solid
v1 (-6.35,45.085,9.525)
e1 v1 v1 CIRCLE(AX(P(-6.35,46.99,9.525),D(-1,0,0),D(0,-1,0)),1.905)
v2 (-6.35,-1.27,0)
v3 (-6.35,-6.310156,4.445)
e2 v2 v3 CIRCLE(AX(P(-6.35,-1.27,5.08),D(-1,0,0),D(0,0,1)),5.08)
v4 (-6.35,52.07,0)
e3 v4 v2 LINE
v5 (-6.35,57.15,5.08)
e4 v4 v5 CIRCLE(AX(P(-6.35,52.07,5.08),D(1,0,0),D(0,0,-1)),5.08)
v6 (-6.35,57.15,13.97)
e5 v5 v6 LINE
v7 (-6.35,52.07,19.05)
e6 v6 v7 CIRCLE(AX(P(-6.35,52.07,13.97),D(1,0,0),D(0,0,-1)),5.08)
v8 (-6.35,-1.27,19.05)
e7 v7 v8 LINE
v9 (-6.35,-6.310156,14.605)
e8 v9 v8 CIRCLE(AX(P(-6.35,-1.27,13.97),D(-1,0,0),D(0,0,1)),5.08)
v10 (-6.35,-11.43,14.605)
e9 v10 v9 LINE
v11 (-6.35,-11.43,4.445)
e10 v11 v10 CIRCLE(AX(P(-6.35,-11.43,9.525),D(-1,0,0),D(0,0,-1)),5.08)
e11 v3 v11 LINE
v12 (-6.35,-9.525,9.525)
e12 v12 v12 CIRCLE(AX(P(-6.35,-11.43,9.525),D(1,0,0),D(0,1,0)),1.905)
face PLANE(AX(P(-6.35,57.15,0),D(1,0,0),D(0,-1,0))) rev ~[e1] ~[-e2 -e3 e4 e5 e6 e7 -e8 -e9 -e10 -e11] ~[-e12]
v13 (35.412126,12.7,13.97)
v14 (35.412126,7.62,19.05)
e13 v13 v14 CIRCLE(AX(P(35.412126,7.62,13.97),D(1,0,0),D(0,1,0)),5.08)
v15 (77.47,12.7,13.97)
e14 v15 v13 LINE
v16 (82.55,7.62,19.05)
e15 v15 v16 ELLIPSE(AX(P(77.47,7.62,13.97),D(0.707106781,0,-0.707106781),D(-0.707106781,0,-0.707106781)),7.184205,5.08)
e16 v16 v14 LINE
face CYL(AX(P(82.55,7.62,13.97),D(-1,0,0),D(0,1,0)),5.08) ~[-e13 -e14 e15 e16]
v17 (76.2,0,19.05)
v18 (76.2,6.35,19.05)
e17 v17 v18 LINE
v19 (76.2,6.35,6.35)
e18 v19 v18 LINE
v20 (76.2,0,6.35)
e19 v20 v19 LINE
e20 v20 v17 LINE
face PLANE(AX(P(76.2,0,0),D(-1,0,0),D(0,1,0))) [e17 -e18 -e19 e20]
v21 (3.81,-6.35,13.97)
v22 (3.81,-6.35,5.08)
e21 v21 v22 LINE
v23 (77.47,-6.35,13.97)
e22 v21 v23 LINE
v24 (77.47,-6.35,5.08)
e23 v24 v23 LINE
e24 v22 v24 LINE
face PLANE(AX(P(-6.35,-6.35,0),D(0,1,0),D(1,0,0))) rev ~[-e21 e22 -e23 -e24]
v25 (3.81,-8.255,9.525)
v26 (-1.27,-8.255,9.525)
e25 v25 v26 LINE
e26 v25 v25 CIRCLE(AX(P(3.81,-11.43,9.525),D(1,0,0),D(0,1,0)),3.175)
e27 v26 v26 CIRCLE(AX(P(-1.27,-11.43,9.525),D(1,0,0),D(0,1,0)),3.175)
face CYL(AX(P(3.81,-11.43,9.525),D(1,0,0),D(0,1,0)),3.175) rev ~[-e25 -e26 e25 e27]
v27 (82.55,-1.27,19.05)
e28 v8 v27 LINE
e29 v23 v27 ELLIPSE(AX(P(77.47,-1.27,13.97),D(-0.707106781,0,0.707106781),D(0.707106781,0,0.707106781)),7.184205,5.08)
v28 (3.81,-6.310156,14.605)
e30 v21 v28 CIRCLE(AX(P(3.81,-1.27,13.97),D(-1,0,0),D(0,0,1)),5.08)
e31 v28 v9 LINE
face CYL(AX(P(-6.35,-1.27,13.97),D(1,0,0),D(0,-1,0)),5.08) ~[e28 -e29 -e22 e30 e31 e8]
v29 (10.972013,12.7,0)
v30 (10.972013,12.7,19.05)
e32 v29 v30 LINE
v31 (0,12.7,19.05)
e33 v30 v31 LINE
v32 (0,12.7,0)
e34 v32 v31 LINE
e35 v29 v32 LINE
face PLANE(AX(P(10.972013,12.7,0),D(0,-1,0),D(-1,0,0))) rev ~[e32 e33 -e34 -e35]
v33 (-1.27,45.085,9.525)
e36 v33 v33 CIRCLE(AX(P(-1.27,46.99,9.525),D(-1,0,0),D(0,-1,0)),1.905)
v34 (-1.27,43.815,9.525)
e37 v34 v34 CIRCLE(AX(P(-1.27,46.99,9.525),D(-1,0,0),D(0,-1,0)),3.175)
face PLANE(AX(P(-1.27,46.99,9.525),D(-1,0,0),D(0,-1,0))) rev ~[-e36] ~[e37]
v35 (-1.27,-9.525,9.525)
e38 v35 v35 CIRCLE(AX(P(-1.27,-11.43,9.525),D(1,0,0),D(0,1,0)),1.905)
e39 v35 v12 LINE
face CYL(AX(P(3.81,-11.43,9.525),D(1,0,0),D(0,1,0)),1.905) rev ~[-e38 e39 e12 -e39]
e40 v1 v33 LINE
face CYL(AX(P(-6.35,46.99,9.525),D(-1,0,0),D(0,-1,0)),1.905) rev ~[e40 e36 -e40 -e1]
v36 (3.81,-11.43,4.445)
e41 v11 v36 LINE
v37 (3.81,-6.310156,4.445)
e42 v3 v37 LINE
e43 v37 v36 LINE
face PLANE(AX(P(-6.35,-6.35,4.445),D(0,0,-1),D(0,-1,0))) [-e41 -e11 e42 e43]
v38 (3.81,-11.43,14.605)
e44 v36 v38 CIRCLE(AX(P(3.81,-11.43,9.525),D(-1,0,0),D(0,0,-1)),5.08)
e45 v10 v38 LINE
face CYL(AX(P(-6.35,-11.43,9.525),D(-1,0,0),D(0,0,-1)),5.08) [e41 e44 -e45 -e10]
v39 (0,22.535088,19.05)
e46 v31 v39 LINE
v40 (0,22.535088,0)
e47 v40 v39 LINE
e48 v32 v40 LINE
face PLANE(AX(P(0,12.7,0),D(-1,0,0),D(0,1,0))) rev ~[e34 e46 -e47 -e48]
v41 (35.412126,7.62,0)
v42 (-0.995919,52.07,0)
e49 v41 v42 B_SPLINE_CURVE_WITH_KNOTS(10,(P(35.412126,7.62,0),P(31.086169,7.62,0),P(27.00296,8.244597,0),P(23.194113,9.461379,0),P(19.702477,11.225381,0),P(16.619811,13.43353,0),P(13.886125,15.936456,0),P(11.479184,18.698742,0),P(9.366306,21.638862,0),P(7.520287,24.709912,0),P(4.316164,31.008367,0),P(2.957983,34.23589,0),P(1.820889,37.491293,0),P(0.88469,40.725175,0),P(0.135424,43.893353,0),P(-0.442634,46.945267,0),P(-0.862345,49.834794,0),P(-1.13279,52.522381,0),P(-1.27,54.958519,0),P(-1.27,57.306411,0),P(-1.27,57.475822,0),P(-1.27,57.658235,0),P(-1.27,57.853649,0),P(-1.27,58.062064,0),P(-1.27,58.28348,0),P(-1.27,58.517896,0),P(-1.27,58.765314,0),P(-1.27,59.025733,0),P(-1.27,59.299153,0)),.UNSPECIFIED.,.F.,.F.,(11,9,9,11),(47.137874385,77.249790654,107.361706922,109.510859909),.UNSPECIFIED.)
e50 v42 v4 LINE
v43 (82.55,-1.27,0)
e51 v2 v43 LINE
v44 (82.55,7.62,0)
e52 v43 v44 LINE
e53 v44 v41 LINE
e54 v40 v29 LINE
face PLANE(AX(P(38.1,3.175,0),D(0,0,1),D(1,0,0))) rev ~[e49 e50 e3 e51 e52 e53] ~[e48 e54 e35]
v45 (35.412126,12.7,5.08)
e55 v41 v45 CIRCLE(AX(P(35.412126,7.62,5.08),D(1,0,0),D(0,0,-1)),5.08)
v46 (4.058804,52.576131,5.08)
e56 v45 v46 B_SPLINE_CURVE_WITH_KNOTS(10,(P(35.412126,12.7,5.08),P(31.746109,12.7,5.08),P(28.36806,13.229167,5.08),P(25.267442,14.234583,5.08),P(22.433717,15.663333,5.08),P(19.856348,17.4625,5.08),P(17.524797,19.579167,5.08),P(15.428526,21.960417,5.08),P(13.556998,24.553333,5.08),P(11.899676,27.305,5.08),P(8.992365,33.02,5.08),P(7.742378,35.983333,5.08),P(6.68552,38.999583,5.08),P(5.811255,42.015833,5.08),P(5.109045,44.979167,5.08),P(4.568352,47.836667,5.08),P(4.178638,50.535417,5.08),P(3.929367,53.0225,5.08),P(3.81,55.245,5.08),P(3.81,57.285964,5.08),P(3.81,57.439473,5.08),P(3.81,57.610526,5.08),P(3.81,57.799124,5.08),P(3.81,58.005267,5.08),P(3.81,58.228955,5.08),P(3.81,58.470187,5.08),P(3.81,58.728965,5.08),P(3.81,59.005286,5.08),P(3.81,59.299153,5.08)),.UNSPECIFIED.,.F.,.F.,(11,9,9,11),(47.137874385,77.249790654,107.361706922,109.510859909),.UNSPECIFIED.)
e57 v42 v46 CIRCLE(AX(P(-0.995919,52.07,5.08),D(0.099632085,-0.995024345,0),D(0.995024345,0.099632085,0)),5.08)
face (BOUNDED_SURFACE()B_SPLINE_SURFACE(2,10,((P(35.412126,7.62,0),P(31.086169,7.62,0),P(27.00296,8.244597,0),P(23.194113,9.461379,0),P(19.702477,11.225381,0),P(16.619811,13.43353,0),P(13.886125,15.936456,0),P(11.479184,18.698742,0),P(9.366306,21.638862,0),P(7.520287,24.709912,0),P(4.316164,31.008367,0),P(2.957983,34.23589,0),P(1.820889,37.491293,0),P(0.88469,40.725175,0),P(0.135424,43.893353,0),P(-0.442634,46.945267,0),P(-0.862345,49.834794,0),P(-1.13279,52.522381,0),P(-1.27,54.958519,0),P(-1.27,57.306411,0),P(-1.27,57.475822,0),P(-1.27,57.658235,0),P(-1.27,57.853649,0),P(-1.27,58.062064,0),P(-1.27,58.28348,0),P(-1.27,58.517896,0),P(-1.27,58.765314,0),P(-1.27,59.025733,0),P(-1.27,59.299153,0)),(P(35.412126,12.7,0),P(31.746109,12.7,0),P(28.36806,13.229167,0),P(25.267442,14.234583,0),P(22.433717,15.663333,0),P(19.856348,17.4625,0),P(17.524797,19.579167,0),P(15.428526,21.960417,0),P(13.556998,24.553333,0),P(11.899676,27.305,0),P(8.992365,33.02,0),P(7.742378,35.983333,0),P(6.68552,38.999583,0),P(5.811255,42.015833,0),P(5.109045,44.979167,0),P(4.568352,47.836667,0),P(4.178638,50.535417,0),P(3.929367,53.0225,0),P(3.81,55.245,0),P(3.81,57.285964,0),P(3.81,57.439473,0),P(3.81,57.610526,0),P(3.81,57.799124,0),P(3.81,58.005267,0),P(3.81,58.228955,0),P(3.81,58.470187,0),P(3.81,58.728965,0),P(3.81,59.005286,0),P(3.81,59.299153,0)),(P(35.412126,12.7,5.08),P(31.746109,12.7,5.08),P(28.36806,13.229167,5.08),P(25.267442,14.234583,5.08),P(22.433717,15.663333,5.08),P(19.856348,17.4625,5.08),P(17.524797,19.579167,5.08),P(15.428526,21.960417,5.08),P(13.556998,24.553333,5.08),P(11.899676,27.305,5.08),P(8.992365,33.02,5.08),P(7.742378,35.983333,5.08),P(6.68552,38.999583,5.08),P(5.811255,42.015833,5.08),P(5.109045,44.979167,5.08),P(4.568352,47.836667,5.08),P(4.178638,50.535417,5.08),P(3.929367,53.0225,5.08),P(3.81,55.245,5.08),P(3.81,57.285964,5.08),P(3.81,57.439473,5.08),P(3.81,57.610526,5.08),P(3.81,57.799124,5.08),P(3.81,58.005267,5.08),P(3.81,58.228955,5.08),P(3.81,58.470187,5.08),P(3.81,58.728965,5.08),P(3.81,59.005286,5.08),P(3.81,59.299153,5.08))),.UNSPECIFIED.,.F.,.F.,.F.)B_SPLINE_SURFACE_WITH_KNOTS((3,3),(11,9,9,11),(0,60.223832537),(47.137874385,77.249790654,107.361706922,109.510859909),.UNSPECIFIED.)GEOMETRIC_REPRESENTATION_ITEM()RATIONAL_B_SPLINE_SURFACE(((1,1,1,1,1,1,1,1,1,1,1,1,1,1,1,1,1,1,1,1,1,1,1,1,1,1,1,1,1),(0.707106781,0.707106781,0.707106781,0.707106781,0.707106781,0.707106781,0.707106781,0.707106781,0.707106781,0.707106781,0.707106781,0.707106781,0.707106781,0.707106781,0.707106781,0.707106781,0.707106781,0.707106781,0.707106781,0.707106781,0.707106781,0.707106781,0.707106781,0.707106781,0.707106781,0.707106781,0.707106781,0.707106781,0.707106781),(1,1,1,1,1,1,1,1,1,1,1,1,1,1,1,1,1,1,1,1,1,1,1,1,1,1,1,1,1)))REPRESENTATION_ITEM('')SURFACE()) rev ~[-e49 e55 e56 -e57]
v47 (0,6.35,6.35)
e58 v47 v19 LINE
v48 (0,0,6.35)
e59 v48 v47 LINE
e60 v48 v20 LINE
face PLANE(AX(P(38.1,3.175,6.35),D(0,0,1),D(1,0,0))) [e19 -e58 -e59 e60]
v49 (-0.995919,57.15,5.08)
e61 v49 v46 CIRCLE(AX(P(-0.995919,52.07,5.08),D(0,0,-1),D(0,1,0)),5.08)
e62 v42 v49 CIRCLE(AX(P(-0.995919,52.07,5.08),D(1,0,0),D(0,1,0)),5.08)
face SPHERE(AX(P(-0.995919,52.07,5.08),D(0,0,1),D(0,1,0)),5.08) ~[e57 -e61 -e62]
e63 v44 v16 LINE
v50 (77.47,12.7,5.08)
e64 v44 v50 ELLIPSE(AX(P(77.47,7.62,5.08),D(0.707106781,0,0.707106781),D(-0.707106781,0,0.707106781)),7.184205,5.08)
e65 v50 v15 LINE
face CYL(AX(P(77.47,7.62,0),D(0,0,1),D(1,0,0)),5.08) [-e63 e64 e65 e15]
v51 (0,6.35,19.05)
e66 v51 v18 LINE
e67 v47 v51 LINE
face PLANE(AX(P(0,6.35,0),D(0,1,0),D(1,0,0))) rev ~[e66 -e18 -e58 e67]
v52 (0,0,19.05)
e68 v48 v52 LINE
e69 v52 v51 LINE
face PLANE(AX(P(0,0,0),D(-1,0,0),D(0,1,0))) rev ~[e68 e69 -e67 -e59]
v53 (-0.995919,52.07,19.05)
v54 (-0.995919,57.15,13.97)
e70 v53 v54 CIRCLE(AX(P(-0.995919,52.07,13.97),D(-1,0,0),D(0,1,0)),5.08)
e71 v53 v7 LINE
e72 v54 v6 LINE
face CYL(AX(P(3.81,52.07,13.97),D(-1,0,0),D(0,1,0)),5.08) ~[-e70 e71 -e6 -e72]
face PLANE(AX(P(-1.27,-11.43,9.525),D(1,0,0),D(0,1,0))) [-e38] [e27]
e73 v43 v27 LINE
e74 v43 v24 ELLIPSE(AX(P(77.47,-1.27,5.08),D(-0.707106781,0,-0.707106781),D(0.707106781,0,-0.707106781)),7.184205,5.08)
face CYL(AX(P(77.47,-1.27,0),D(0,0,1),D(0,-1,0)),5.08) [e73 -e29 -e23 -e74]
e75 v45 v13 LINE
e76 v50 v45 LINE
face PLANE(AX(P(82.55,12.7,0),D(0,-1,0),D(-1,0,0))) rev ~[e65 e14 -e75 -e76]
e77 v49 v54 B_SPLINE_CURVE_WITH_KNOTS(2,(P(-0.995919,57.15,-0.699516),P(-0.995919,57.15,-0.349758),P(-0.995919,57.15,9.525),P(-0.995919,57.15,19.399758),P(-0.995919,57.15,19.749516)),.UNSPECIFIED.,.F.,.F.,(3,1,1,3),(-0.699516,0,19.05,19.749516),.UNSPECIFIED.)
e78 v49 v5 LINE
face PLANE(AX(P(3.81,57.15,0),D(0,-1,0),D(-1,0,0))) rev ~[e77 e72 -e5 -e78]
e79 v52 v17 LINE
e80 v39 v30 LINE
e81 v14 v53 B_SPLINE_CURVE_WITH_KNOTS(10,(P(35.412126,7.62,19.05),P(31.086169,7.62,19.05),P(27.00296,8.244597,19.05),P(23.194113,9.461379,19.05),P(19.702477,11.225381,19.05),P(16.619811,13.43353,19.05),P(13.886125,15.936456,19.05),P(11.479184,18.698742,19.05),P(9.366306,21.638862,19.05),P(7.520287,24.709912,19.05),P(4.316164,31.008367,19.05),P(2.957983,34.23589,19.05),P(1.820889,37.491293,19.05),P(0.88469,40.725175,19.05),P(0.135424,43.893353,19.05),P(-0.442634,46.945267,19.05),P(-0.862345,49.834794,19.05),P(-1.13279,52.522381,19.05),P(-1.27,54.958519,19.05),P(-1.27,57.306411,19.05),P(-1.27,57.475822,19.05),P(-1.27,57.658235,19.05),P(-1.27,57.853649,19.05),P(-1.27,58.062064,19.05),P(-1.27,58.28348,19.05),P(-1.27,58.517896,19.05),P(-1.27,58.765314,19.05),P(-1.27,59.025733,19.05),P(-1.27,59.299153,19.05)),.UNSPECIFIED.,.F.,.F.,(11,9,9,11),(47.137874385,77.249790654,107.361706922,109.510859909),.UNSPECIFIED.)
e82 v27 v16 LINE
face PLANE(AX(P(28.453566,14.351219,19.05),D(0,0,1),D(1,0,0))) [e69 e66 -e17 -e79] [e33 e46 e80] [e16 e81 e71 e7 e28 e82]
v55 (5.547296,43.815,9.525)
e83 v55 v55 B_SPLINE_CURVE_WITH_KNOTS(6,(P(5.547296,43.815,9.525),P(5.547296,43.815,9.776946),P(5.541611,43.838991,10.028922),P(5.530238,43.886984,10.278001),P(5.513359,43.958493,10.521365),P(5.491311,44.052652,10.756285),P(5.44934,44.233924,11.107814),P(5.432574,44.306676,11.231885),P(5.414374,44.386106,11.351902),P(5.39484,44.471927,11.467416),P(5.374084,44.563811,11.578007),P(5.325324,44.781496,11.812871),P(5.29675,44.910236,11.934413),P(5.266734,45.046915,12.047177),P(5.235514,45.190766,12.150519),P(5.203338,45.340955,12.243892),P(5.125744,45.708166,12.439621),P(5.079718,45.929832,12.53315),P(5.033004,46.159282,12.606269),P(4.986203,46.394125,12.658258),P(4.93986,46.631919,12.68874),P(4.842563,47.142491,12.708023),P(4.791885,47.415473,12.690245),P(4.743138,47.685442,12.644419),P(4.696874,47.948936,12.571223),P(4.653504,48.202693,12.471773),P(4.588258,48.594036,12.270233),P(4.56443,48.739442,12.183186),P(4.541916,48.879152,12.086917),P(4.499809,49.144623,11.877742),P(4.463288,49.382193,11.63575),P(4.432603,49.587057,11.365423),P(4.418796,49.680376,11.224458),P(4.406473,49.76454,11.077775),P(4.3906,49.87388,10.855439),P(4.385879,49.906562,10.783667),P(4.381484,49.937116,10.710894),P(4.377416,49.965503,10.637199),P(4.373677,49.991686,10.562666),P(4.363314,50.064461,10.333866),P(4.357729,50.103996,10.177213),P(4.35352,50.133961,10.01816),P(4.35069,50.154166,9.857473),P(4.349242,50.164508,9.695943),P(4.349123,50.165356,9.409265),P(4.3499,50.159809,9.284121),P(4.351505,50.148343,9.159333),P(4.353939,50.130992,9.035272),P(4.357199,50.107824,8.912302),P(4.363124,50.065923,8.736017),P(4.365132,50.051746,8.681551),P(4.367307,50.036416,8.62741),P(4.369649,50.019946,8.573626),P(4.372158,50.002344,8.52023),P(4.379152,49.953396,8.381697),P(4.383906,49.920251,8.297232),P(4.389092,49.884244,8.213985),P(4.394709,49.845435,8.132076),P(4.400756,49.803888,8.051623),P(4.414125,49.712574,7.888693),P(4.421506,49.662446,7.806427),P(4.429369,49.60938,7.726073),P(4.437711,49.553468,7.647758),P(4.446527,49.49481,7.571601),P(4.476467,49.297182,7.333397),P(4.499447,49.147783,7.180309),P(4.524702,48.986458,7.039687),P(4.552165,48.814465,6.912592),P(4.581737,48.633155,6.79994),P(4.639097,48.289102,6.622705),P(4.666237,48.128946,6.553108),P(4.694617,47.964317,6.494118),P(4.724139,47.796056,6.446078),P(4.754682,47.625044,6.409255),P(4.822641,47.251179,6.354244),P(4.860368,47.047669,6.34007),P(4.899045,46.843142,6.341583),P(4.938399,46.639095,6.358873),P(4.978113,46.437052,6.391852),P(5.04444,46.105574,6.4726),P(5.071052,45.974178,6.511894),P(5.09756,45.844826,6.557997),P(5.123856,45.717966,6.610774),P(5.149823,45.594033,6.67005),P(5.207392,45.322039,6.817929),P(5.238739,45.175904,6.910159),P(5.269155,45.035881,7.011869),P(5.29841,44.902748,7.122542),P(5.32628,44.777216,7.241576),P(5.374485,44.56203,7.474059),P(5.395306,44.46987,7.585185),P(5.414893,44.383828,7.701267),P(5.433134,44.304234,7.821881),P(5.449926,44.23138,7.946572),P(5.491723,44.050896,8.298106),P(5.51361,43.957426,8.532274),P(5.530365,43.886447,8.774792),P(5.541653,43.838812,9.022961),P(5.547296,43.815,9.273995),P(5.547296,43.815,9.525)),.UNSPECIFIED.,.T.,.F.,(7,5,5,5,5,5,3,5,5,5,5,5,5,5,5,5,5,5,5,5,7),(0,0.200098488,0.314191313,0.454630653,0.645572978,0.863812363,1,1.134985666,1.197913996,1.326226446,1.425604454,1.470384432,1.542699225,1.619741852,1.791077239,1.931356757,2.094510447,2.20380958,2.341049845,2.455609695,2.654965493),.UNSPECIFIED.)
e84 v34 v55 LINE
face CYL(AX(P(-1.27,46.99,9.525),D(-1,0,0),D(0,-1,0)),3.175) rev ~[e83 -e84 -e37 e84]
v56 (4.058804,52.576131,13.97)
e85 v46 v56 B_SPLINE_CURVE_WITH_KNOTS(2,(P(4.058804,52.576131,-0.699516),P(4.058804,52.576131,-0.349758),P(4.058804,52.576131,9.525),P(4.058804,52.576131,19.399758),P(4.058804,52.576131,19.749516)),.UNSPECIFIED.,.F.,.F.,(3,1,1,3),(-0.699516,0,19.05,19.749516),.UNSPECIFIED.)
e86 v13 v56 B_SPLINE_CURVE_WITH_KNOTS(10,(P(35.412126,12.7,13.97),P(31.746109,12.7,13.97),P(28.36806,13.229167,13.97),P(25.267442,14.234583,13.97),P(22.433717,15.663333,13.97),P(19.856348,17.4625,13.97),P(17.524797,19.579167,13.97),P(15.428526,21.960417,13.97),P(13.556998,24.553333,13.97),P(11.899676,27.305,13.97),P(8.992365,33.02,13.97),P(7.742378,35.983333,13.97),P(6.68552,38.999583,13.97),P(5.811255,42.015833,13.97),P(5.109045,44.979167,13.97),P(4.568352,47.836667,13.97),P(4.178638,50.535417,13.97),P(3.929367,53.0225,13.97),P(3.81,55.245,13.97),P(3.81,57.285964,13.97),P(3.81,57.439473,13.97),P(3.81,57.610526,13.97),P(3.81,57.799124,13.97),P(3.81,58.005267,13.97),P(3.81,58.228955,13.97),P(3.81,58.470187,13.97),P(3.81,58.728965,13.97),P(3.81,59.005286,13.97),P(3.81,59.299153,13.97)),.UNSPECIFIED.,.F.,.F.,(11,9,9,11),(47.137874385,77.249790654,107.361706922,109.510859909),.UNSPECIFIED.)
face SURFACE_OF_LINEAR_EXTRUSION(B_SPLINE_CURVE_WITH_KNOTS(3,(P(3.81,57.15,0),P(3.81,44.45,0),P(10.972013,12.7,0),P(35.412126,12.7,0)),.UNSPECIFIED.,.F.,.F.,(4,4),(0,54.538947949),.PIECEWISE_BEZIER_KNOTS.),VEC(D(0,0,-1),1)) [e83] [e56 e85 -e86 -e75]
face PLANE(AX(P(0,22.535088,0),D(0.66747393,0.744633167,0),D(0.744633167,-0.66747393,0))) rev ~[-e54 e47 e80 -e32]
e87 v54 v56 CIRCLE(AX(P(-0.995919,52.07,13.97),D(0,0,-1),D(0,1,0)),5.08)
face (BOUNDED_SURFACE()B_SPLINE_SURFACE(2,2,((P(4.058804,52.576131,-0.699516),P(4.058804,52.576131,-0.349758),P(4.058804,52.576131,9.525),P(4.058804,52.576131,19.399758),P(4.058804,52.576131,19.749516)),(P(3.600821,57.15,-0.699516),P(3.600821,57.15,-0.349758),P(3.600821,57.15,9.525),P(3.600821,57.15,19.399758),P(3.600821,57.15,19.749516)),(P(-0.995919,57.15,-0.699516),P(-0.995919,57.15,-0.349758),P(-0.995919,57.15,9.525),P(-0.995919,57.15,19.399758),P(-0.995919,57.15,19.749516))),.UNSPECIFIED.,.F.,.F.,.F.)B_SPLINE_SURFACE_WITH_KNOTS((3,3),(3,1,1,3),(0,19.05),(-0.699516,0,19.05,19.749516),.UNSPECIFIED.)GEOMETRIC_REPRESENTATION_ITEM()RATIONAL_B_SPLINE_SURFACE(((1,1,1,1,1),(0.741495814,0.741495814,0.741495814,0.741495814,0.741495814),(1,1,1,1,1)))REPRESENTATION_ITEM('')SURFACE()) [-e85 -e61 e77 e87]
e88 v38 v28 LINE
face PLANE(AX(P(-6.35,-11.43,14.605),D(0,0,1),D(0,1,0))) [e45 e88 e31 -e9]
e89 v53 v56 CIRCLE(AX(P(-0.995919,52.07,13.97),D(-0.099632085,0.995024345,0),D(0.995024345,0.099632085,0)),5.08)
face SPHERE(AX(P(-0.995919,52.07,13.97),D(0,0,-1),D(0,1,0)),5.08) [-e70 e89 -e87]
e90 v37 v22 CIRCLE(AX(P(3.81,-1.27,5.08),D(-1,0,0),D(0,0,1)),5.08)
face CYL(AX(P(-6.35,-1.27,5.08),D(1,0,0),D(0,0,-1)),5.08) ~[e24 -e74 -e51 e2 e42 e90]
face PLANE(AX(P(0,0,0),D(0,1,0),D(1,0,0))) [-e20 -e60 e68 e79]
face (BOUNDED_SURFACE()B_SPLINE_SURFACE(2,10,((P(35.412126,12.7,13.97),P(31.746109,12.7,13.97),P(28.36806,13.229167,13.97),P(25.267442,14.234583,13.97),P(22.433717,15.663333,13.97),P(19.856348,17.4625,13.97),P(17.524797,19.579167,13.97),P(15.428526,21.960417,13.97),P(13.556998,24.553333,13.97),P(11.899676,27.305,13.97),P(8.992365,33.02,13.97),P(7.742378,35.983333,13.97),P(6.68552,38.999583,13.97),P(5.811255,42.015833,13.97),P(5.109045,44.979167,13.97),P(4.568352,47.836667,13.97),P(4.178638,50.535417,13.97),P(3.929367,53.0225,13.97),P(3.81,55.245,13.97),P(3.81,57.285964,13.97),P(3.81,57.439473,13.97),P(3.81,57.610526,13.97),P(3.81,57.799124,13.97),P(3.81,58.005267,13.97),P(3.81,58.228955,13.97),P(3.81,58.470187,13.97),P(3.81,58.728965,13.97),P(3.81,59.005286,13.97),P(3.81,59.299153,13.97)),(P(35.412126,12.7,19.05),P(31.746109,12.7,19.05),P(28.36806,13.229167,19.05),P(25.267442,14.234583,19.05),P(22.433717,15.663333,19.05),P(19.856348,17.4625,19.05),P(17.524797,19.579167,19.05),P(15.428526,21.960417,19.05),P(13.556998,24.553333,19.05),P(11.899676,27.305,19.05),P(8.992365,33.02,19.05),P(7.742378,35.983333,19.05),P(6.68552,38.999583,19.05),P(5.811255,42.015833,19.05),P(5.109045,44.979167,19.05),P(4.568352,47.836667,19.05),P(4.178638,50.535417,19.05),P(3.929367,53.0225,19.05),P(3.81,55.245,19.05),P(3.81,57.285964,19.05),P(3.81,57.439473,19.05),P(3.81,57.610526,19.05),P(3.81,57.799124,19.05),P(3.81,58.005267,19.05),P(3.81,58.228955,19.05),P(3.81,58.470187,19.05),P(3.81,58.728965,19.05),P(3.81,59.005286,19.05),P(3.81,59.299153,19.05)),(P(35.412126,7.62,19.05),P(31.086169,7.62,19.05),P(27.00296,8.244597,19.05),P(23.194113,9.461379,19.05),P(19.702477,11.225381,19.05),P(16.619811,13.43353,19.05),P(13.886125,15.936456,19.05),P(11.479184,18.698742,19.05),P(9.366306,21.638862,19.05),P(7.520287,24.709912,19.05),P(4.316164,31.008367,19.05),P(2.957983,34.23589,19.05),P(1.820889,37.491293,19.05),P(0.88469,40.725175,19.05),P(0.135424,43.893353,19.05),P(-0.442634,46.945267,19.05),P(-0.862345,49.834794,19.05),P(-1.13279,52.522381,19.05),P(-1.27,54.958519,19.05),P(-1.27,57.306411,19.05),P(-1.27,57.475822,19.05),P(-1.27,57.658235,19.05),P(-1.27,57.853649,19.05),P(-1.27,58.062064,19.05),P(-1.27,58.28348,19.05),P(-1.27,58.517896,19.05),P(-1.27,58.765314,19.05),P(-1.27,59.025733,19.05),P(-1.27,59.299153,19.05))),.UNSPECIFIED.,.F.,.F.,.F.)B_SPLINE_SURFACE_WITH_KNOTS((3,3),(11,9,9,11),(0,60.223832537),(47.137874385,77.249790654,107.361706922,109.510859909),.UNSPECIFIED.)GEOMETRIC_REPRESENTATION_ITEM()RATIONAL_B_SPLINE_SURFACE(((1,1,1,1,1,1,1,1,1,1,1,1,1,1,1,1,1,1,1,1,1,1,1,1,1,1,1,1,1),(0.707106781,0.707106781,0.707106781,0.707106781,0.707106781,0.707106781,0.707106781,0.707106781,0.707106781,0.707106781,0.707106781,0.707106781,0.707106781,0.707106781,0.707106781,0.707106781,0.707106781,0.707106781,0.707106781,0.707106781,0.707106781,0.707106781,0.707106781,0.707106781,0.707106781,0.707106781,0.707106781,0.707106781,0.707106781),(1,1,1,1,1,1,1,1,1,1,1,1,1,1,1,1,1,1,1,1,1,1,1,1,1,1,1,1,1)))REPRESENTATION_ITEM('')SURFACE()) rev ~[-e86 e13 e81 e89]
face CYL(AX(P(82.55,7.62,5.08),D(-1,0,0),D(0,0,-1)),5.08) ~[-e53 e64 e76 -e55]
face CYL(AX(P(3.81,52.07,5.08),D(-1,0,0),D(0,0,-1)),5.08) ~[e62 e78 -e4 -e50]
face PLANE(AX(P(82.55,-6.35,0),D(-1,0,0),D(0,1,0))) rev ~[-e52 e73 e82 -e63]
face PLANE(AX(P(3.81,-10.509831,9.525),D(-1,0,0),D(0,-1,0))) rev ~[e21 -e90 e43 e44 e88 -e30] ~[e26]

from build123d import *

# Parameters (mm, degrees)
F0_W      = 76.2
F0_H      = 6.35
F1_DEPTH  = 19.05
F2_DEPTH  = 6.35
F4_START  = -5.08
F3_R      = 3.175
F3_R_2    = 1.905
F4_DEPTH  = 6.8182960521
F6_DEPTH  = 10.16
F7_R      = 3.175
F7_R_2    = 1.905
F8_DEPTH  = 5.08
F9_DEPTH  = 10.1610001
F10_DEPTH = 88.9010001
F11_R     = 5.08


with BuildPart() as f1:
    # F0 (on Top) → F1 (new body)
    with BuildSketch(Plane.XY):
        with BuildLine():
            Line((-6.35, -6.35), (82.55, -6.35))
            Line((82.55, -6.35), (82.55, 12.7))
            Line((82.55, 12.7), (35.4121256149, 12.7))
            add(Edge.make_bspline(
                [(3.81, 57.15), (3.81, 44.45), (10.9720126255, 12.7), (35.4121256149, 12.7)],
                knots=[0, 0, 0, 0, 54.538947949, 54.538947949, 54.538947949, 54.538947949], degree=3))
            Line((3.81, 57.15), (-6.35, 57.15))
            Line((-6.35, 57.15), (-6.35, 12.7))
            Line((-6.35, 12.7), (-6.35, -6.35))
        make_face()
        Polygon((0, 12.7), (0, 22.5350875407), (10.9720126255, 12.7), align=None, mode=Mode.SUBTRACT)
        with Locations((38.1, 3.175)):
            Rectangle(F0_W, F0_H, mode=Mode.SUBTRACT)
    extrude(amount=F1_DEPTH)

    # F0 (on Top) → F2 (join)
    with BuildSketch(Plane.XY):
        with Locations((38.1, 3.175)):
            Rectangle(F0_W, F0_H)
    extrude(amount=F2_DEPTH)

    # F3 (on face) → F4 (cut)
    with BuildSketch(Plane(origin=(-6.35, 0, 0), x_dir=(0, -1, 0), z_dir=(-1, 0, 0)).offset(F4_START)):
        with Locations((-46.99, 9.525)):
            Circle(F3_R)
        with Locations((-46.99, 9.525)):
            Circle(F3_R_2, mode=Mode.SUBTRACT)
    extrude(amount=-F4_DEPTH, mode=Mode.SUBTRACT)

    # F5 (on face) → F6 (join)
    with BuildSketch(Plane(origin=(-6.35, 0, 0), x_dir=(0, -1, 0), z_dir=(-1, 0, 0))):
        with BuildLine():
            Line((11.43, 14.605), (6.35, 14.605))
            Line((6.35, 14.605), (6.35, 4.445))
            Line((6.35, 4.445), (11.43, 4.445))
            ThreePointArc((11.43, 4.445), (16.51, 9.525), (11.43, 14.605))
        make_face()
    extrude(amount=-F6_DEPTH)

    # F7 (on face) → F8 (cut)
    with BuildSketch(Plane.YZ.offset(3.81)):
        with Locations((-11.43, 9.525)):
            Circle(F7_R)
        with Locations((-11.43, 9.525)):
            Circle(F7_R_2, mode=Mode.SUBTRACT)
    extrude(amount=-F8_DEPTH, mode=Mode.SUBTRACT)

    # F7 (on face) → F9 (cut, through all)
    with BuildSketch(Plane.YZ.offset(3.81)):
        with Locations((-11.43, 9.525)):
            Circle(F7_R_2)
    extrude(amount=-F9_DEPTH, mode=Mode.SUBTRACT)

    # F3 (on face) → F10 (cut, through all)
    with BuildSketch(Plane(origin=(-6.35, 0, 0), x_dir=(0, -1, 0), z_dir=(-1, 0, 0))):
        with Locations((-46.99, 9.525)):
            Circle(F3_R_2)
    extrude(amount=-F10_DEPTH, mode=Mode.SUBTRACT)

    # F11
    f11_edges = [f1.edges().sort_by_distance(p)[0] for p in [
        (58.981063, 12.7, 0),
        (58.981063, 12.7, 19.05),
        (38.1, -6.35, 19.05),
        (38.1, -6.35, 0),
        (82.55, -6.35, 9.525),
        (82.55, 12.7, 9.525),
        (3.81, 57.15, 9.525),
        (-1.27, 57.15, 19.05),
        (-1.27, 57.15, 0),
    ]]
    fillet(f11_edges, radius=F11_R)


solid = f1.part
